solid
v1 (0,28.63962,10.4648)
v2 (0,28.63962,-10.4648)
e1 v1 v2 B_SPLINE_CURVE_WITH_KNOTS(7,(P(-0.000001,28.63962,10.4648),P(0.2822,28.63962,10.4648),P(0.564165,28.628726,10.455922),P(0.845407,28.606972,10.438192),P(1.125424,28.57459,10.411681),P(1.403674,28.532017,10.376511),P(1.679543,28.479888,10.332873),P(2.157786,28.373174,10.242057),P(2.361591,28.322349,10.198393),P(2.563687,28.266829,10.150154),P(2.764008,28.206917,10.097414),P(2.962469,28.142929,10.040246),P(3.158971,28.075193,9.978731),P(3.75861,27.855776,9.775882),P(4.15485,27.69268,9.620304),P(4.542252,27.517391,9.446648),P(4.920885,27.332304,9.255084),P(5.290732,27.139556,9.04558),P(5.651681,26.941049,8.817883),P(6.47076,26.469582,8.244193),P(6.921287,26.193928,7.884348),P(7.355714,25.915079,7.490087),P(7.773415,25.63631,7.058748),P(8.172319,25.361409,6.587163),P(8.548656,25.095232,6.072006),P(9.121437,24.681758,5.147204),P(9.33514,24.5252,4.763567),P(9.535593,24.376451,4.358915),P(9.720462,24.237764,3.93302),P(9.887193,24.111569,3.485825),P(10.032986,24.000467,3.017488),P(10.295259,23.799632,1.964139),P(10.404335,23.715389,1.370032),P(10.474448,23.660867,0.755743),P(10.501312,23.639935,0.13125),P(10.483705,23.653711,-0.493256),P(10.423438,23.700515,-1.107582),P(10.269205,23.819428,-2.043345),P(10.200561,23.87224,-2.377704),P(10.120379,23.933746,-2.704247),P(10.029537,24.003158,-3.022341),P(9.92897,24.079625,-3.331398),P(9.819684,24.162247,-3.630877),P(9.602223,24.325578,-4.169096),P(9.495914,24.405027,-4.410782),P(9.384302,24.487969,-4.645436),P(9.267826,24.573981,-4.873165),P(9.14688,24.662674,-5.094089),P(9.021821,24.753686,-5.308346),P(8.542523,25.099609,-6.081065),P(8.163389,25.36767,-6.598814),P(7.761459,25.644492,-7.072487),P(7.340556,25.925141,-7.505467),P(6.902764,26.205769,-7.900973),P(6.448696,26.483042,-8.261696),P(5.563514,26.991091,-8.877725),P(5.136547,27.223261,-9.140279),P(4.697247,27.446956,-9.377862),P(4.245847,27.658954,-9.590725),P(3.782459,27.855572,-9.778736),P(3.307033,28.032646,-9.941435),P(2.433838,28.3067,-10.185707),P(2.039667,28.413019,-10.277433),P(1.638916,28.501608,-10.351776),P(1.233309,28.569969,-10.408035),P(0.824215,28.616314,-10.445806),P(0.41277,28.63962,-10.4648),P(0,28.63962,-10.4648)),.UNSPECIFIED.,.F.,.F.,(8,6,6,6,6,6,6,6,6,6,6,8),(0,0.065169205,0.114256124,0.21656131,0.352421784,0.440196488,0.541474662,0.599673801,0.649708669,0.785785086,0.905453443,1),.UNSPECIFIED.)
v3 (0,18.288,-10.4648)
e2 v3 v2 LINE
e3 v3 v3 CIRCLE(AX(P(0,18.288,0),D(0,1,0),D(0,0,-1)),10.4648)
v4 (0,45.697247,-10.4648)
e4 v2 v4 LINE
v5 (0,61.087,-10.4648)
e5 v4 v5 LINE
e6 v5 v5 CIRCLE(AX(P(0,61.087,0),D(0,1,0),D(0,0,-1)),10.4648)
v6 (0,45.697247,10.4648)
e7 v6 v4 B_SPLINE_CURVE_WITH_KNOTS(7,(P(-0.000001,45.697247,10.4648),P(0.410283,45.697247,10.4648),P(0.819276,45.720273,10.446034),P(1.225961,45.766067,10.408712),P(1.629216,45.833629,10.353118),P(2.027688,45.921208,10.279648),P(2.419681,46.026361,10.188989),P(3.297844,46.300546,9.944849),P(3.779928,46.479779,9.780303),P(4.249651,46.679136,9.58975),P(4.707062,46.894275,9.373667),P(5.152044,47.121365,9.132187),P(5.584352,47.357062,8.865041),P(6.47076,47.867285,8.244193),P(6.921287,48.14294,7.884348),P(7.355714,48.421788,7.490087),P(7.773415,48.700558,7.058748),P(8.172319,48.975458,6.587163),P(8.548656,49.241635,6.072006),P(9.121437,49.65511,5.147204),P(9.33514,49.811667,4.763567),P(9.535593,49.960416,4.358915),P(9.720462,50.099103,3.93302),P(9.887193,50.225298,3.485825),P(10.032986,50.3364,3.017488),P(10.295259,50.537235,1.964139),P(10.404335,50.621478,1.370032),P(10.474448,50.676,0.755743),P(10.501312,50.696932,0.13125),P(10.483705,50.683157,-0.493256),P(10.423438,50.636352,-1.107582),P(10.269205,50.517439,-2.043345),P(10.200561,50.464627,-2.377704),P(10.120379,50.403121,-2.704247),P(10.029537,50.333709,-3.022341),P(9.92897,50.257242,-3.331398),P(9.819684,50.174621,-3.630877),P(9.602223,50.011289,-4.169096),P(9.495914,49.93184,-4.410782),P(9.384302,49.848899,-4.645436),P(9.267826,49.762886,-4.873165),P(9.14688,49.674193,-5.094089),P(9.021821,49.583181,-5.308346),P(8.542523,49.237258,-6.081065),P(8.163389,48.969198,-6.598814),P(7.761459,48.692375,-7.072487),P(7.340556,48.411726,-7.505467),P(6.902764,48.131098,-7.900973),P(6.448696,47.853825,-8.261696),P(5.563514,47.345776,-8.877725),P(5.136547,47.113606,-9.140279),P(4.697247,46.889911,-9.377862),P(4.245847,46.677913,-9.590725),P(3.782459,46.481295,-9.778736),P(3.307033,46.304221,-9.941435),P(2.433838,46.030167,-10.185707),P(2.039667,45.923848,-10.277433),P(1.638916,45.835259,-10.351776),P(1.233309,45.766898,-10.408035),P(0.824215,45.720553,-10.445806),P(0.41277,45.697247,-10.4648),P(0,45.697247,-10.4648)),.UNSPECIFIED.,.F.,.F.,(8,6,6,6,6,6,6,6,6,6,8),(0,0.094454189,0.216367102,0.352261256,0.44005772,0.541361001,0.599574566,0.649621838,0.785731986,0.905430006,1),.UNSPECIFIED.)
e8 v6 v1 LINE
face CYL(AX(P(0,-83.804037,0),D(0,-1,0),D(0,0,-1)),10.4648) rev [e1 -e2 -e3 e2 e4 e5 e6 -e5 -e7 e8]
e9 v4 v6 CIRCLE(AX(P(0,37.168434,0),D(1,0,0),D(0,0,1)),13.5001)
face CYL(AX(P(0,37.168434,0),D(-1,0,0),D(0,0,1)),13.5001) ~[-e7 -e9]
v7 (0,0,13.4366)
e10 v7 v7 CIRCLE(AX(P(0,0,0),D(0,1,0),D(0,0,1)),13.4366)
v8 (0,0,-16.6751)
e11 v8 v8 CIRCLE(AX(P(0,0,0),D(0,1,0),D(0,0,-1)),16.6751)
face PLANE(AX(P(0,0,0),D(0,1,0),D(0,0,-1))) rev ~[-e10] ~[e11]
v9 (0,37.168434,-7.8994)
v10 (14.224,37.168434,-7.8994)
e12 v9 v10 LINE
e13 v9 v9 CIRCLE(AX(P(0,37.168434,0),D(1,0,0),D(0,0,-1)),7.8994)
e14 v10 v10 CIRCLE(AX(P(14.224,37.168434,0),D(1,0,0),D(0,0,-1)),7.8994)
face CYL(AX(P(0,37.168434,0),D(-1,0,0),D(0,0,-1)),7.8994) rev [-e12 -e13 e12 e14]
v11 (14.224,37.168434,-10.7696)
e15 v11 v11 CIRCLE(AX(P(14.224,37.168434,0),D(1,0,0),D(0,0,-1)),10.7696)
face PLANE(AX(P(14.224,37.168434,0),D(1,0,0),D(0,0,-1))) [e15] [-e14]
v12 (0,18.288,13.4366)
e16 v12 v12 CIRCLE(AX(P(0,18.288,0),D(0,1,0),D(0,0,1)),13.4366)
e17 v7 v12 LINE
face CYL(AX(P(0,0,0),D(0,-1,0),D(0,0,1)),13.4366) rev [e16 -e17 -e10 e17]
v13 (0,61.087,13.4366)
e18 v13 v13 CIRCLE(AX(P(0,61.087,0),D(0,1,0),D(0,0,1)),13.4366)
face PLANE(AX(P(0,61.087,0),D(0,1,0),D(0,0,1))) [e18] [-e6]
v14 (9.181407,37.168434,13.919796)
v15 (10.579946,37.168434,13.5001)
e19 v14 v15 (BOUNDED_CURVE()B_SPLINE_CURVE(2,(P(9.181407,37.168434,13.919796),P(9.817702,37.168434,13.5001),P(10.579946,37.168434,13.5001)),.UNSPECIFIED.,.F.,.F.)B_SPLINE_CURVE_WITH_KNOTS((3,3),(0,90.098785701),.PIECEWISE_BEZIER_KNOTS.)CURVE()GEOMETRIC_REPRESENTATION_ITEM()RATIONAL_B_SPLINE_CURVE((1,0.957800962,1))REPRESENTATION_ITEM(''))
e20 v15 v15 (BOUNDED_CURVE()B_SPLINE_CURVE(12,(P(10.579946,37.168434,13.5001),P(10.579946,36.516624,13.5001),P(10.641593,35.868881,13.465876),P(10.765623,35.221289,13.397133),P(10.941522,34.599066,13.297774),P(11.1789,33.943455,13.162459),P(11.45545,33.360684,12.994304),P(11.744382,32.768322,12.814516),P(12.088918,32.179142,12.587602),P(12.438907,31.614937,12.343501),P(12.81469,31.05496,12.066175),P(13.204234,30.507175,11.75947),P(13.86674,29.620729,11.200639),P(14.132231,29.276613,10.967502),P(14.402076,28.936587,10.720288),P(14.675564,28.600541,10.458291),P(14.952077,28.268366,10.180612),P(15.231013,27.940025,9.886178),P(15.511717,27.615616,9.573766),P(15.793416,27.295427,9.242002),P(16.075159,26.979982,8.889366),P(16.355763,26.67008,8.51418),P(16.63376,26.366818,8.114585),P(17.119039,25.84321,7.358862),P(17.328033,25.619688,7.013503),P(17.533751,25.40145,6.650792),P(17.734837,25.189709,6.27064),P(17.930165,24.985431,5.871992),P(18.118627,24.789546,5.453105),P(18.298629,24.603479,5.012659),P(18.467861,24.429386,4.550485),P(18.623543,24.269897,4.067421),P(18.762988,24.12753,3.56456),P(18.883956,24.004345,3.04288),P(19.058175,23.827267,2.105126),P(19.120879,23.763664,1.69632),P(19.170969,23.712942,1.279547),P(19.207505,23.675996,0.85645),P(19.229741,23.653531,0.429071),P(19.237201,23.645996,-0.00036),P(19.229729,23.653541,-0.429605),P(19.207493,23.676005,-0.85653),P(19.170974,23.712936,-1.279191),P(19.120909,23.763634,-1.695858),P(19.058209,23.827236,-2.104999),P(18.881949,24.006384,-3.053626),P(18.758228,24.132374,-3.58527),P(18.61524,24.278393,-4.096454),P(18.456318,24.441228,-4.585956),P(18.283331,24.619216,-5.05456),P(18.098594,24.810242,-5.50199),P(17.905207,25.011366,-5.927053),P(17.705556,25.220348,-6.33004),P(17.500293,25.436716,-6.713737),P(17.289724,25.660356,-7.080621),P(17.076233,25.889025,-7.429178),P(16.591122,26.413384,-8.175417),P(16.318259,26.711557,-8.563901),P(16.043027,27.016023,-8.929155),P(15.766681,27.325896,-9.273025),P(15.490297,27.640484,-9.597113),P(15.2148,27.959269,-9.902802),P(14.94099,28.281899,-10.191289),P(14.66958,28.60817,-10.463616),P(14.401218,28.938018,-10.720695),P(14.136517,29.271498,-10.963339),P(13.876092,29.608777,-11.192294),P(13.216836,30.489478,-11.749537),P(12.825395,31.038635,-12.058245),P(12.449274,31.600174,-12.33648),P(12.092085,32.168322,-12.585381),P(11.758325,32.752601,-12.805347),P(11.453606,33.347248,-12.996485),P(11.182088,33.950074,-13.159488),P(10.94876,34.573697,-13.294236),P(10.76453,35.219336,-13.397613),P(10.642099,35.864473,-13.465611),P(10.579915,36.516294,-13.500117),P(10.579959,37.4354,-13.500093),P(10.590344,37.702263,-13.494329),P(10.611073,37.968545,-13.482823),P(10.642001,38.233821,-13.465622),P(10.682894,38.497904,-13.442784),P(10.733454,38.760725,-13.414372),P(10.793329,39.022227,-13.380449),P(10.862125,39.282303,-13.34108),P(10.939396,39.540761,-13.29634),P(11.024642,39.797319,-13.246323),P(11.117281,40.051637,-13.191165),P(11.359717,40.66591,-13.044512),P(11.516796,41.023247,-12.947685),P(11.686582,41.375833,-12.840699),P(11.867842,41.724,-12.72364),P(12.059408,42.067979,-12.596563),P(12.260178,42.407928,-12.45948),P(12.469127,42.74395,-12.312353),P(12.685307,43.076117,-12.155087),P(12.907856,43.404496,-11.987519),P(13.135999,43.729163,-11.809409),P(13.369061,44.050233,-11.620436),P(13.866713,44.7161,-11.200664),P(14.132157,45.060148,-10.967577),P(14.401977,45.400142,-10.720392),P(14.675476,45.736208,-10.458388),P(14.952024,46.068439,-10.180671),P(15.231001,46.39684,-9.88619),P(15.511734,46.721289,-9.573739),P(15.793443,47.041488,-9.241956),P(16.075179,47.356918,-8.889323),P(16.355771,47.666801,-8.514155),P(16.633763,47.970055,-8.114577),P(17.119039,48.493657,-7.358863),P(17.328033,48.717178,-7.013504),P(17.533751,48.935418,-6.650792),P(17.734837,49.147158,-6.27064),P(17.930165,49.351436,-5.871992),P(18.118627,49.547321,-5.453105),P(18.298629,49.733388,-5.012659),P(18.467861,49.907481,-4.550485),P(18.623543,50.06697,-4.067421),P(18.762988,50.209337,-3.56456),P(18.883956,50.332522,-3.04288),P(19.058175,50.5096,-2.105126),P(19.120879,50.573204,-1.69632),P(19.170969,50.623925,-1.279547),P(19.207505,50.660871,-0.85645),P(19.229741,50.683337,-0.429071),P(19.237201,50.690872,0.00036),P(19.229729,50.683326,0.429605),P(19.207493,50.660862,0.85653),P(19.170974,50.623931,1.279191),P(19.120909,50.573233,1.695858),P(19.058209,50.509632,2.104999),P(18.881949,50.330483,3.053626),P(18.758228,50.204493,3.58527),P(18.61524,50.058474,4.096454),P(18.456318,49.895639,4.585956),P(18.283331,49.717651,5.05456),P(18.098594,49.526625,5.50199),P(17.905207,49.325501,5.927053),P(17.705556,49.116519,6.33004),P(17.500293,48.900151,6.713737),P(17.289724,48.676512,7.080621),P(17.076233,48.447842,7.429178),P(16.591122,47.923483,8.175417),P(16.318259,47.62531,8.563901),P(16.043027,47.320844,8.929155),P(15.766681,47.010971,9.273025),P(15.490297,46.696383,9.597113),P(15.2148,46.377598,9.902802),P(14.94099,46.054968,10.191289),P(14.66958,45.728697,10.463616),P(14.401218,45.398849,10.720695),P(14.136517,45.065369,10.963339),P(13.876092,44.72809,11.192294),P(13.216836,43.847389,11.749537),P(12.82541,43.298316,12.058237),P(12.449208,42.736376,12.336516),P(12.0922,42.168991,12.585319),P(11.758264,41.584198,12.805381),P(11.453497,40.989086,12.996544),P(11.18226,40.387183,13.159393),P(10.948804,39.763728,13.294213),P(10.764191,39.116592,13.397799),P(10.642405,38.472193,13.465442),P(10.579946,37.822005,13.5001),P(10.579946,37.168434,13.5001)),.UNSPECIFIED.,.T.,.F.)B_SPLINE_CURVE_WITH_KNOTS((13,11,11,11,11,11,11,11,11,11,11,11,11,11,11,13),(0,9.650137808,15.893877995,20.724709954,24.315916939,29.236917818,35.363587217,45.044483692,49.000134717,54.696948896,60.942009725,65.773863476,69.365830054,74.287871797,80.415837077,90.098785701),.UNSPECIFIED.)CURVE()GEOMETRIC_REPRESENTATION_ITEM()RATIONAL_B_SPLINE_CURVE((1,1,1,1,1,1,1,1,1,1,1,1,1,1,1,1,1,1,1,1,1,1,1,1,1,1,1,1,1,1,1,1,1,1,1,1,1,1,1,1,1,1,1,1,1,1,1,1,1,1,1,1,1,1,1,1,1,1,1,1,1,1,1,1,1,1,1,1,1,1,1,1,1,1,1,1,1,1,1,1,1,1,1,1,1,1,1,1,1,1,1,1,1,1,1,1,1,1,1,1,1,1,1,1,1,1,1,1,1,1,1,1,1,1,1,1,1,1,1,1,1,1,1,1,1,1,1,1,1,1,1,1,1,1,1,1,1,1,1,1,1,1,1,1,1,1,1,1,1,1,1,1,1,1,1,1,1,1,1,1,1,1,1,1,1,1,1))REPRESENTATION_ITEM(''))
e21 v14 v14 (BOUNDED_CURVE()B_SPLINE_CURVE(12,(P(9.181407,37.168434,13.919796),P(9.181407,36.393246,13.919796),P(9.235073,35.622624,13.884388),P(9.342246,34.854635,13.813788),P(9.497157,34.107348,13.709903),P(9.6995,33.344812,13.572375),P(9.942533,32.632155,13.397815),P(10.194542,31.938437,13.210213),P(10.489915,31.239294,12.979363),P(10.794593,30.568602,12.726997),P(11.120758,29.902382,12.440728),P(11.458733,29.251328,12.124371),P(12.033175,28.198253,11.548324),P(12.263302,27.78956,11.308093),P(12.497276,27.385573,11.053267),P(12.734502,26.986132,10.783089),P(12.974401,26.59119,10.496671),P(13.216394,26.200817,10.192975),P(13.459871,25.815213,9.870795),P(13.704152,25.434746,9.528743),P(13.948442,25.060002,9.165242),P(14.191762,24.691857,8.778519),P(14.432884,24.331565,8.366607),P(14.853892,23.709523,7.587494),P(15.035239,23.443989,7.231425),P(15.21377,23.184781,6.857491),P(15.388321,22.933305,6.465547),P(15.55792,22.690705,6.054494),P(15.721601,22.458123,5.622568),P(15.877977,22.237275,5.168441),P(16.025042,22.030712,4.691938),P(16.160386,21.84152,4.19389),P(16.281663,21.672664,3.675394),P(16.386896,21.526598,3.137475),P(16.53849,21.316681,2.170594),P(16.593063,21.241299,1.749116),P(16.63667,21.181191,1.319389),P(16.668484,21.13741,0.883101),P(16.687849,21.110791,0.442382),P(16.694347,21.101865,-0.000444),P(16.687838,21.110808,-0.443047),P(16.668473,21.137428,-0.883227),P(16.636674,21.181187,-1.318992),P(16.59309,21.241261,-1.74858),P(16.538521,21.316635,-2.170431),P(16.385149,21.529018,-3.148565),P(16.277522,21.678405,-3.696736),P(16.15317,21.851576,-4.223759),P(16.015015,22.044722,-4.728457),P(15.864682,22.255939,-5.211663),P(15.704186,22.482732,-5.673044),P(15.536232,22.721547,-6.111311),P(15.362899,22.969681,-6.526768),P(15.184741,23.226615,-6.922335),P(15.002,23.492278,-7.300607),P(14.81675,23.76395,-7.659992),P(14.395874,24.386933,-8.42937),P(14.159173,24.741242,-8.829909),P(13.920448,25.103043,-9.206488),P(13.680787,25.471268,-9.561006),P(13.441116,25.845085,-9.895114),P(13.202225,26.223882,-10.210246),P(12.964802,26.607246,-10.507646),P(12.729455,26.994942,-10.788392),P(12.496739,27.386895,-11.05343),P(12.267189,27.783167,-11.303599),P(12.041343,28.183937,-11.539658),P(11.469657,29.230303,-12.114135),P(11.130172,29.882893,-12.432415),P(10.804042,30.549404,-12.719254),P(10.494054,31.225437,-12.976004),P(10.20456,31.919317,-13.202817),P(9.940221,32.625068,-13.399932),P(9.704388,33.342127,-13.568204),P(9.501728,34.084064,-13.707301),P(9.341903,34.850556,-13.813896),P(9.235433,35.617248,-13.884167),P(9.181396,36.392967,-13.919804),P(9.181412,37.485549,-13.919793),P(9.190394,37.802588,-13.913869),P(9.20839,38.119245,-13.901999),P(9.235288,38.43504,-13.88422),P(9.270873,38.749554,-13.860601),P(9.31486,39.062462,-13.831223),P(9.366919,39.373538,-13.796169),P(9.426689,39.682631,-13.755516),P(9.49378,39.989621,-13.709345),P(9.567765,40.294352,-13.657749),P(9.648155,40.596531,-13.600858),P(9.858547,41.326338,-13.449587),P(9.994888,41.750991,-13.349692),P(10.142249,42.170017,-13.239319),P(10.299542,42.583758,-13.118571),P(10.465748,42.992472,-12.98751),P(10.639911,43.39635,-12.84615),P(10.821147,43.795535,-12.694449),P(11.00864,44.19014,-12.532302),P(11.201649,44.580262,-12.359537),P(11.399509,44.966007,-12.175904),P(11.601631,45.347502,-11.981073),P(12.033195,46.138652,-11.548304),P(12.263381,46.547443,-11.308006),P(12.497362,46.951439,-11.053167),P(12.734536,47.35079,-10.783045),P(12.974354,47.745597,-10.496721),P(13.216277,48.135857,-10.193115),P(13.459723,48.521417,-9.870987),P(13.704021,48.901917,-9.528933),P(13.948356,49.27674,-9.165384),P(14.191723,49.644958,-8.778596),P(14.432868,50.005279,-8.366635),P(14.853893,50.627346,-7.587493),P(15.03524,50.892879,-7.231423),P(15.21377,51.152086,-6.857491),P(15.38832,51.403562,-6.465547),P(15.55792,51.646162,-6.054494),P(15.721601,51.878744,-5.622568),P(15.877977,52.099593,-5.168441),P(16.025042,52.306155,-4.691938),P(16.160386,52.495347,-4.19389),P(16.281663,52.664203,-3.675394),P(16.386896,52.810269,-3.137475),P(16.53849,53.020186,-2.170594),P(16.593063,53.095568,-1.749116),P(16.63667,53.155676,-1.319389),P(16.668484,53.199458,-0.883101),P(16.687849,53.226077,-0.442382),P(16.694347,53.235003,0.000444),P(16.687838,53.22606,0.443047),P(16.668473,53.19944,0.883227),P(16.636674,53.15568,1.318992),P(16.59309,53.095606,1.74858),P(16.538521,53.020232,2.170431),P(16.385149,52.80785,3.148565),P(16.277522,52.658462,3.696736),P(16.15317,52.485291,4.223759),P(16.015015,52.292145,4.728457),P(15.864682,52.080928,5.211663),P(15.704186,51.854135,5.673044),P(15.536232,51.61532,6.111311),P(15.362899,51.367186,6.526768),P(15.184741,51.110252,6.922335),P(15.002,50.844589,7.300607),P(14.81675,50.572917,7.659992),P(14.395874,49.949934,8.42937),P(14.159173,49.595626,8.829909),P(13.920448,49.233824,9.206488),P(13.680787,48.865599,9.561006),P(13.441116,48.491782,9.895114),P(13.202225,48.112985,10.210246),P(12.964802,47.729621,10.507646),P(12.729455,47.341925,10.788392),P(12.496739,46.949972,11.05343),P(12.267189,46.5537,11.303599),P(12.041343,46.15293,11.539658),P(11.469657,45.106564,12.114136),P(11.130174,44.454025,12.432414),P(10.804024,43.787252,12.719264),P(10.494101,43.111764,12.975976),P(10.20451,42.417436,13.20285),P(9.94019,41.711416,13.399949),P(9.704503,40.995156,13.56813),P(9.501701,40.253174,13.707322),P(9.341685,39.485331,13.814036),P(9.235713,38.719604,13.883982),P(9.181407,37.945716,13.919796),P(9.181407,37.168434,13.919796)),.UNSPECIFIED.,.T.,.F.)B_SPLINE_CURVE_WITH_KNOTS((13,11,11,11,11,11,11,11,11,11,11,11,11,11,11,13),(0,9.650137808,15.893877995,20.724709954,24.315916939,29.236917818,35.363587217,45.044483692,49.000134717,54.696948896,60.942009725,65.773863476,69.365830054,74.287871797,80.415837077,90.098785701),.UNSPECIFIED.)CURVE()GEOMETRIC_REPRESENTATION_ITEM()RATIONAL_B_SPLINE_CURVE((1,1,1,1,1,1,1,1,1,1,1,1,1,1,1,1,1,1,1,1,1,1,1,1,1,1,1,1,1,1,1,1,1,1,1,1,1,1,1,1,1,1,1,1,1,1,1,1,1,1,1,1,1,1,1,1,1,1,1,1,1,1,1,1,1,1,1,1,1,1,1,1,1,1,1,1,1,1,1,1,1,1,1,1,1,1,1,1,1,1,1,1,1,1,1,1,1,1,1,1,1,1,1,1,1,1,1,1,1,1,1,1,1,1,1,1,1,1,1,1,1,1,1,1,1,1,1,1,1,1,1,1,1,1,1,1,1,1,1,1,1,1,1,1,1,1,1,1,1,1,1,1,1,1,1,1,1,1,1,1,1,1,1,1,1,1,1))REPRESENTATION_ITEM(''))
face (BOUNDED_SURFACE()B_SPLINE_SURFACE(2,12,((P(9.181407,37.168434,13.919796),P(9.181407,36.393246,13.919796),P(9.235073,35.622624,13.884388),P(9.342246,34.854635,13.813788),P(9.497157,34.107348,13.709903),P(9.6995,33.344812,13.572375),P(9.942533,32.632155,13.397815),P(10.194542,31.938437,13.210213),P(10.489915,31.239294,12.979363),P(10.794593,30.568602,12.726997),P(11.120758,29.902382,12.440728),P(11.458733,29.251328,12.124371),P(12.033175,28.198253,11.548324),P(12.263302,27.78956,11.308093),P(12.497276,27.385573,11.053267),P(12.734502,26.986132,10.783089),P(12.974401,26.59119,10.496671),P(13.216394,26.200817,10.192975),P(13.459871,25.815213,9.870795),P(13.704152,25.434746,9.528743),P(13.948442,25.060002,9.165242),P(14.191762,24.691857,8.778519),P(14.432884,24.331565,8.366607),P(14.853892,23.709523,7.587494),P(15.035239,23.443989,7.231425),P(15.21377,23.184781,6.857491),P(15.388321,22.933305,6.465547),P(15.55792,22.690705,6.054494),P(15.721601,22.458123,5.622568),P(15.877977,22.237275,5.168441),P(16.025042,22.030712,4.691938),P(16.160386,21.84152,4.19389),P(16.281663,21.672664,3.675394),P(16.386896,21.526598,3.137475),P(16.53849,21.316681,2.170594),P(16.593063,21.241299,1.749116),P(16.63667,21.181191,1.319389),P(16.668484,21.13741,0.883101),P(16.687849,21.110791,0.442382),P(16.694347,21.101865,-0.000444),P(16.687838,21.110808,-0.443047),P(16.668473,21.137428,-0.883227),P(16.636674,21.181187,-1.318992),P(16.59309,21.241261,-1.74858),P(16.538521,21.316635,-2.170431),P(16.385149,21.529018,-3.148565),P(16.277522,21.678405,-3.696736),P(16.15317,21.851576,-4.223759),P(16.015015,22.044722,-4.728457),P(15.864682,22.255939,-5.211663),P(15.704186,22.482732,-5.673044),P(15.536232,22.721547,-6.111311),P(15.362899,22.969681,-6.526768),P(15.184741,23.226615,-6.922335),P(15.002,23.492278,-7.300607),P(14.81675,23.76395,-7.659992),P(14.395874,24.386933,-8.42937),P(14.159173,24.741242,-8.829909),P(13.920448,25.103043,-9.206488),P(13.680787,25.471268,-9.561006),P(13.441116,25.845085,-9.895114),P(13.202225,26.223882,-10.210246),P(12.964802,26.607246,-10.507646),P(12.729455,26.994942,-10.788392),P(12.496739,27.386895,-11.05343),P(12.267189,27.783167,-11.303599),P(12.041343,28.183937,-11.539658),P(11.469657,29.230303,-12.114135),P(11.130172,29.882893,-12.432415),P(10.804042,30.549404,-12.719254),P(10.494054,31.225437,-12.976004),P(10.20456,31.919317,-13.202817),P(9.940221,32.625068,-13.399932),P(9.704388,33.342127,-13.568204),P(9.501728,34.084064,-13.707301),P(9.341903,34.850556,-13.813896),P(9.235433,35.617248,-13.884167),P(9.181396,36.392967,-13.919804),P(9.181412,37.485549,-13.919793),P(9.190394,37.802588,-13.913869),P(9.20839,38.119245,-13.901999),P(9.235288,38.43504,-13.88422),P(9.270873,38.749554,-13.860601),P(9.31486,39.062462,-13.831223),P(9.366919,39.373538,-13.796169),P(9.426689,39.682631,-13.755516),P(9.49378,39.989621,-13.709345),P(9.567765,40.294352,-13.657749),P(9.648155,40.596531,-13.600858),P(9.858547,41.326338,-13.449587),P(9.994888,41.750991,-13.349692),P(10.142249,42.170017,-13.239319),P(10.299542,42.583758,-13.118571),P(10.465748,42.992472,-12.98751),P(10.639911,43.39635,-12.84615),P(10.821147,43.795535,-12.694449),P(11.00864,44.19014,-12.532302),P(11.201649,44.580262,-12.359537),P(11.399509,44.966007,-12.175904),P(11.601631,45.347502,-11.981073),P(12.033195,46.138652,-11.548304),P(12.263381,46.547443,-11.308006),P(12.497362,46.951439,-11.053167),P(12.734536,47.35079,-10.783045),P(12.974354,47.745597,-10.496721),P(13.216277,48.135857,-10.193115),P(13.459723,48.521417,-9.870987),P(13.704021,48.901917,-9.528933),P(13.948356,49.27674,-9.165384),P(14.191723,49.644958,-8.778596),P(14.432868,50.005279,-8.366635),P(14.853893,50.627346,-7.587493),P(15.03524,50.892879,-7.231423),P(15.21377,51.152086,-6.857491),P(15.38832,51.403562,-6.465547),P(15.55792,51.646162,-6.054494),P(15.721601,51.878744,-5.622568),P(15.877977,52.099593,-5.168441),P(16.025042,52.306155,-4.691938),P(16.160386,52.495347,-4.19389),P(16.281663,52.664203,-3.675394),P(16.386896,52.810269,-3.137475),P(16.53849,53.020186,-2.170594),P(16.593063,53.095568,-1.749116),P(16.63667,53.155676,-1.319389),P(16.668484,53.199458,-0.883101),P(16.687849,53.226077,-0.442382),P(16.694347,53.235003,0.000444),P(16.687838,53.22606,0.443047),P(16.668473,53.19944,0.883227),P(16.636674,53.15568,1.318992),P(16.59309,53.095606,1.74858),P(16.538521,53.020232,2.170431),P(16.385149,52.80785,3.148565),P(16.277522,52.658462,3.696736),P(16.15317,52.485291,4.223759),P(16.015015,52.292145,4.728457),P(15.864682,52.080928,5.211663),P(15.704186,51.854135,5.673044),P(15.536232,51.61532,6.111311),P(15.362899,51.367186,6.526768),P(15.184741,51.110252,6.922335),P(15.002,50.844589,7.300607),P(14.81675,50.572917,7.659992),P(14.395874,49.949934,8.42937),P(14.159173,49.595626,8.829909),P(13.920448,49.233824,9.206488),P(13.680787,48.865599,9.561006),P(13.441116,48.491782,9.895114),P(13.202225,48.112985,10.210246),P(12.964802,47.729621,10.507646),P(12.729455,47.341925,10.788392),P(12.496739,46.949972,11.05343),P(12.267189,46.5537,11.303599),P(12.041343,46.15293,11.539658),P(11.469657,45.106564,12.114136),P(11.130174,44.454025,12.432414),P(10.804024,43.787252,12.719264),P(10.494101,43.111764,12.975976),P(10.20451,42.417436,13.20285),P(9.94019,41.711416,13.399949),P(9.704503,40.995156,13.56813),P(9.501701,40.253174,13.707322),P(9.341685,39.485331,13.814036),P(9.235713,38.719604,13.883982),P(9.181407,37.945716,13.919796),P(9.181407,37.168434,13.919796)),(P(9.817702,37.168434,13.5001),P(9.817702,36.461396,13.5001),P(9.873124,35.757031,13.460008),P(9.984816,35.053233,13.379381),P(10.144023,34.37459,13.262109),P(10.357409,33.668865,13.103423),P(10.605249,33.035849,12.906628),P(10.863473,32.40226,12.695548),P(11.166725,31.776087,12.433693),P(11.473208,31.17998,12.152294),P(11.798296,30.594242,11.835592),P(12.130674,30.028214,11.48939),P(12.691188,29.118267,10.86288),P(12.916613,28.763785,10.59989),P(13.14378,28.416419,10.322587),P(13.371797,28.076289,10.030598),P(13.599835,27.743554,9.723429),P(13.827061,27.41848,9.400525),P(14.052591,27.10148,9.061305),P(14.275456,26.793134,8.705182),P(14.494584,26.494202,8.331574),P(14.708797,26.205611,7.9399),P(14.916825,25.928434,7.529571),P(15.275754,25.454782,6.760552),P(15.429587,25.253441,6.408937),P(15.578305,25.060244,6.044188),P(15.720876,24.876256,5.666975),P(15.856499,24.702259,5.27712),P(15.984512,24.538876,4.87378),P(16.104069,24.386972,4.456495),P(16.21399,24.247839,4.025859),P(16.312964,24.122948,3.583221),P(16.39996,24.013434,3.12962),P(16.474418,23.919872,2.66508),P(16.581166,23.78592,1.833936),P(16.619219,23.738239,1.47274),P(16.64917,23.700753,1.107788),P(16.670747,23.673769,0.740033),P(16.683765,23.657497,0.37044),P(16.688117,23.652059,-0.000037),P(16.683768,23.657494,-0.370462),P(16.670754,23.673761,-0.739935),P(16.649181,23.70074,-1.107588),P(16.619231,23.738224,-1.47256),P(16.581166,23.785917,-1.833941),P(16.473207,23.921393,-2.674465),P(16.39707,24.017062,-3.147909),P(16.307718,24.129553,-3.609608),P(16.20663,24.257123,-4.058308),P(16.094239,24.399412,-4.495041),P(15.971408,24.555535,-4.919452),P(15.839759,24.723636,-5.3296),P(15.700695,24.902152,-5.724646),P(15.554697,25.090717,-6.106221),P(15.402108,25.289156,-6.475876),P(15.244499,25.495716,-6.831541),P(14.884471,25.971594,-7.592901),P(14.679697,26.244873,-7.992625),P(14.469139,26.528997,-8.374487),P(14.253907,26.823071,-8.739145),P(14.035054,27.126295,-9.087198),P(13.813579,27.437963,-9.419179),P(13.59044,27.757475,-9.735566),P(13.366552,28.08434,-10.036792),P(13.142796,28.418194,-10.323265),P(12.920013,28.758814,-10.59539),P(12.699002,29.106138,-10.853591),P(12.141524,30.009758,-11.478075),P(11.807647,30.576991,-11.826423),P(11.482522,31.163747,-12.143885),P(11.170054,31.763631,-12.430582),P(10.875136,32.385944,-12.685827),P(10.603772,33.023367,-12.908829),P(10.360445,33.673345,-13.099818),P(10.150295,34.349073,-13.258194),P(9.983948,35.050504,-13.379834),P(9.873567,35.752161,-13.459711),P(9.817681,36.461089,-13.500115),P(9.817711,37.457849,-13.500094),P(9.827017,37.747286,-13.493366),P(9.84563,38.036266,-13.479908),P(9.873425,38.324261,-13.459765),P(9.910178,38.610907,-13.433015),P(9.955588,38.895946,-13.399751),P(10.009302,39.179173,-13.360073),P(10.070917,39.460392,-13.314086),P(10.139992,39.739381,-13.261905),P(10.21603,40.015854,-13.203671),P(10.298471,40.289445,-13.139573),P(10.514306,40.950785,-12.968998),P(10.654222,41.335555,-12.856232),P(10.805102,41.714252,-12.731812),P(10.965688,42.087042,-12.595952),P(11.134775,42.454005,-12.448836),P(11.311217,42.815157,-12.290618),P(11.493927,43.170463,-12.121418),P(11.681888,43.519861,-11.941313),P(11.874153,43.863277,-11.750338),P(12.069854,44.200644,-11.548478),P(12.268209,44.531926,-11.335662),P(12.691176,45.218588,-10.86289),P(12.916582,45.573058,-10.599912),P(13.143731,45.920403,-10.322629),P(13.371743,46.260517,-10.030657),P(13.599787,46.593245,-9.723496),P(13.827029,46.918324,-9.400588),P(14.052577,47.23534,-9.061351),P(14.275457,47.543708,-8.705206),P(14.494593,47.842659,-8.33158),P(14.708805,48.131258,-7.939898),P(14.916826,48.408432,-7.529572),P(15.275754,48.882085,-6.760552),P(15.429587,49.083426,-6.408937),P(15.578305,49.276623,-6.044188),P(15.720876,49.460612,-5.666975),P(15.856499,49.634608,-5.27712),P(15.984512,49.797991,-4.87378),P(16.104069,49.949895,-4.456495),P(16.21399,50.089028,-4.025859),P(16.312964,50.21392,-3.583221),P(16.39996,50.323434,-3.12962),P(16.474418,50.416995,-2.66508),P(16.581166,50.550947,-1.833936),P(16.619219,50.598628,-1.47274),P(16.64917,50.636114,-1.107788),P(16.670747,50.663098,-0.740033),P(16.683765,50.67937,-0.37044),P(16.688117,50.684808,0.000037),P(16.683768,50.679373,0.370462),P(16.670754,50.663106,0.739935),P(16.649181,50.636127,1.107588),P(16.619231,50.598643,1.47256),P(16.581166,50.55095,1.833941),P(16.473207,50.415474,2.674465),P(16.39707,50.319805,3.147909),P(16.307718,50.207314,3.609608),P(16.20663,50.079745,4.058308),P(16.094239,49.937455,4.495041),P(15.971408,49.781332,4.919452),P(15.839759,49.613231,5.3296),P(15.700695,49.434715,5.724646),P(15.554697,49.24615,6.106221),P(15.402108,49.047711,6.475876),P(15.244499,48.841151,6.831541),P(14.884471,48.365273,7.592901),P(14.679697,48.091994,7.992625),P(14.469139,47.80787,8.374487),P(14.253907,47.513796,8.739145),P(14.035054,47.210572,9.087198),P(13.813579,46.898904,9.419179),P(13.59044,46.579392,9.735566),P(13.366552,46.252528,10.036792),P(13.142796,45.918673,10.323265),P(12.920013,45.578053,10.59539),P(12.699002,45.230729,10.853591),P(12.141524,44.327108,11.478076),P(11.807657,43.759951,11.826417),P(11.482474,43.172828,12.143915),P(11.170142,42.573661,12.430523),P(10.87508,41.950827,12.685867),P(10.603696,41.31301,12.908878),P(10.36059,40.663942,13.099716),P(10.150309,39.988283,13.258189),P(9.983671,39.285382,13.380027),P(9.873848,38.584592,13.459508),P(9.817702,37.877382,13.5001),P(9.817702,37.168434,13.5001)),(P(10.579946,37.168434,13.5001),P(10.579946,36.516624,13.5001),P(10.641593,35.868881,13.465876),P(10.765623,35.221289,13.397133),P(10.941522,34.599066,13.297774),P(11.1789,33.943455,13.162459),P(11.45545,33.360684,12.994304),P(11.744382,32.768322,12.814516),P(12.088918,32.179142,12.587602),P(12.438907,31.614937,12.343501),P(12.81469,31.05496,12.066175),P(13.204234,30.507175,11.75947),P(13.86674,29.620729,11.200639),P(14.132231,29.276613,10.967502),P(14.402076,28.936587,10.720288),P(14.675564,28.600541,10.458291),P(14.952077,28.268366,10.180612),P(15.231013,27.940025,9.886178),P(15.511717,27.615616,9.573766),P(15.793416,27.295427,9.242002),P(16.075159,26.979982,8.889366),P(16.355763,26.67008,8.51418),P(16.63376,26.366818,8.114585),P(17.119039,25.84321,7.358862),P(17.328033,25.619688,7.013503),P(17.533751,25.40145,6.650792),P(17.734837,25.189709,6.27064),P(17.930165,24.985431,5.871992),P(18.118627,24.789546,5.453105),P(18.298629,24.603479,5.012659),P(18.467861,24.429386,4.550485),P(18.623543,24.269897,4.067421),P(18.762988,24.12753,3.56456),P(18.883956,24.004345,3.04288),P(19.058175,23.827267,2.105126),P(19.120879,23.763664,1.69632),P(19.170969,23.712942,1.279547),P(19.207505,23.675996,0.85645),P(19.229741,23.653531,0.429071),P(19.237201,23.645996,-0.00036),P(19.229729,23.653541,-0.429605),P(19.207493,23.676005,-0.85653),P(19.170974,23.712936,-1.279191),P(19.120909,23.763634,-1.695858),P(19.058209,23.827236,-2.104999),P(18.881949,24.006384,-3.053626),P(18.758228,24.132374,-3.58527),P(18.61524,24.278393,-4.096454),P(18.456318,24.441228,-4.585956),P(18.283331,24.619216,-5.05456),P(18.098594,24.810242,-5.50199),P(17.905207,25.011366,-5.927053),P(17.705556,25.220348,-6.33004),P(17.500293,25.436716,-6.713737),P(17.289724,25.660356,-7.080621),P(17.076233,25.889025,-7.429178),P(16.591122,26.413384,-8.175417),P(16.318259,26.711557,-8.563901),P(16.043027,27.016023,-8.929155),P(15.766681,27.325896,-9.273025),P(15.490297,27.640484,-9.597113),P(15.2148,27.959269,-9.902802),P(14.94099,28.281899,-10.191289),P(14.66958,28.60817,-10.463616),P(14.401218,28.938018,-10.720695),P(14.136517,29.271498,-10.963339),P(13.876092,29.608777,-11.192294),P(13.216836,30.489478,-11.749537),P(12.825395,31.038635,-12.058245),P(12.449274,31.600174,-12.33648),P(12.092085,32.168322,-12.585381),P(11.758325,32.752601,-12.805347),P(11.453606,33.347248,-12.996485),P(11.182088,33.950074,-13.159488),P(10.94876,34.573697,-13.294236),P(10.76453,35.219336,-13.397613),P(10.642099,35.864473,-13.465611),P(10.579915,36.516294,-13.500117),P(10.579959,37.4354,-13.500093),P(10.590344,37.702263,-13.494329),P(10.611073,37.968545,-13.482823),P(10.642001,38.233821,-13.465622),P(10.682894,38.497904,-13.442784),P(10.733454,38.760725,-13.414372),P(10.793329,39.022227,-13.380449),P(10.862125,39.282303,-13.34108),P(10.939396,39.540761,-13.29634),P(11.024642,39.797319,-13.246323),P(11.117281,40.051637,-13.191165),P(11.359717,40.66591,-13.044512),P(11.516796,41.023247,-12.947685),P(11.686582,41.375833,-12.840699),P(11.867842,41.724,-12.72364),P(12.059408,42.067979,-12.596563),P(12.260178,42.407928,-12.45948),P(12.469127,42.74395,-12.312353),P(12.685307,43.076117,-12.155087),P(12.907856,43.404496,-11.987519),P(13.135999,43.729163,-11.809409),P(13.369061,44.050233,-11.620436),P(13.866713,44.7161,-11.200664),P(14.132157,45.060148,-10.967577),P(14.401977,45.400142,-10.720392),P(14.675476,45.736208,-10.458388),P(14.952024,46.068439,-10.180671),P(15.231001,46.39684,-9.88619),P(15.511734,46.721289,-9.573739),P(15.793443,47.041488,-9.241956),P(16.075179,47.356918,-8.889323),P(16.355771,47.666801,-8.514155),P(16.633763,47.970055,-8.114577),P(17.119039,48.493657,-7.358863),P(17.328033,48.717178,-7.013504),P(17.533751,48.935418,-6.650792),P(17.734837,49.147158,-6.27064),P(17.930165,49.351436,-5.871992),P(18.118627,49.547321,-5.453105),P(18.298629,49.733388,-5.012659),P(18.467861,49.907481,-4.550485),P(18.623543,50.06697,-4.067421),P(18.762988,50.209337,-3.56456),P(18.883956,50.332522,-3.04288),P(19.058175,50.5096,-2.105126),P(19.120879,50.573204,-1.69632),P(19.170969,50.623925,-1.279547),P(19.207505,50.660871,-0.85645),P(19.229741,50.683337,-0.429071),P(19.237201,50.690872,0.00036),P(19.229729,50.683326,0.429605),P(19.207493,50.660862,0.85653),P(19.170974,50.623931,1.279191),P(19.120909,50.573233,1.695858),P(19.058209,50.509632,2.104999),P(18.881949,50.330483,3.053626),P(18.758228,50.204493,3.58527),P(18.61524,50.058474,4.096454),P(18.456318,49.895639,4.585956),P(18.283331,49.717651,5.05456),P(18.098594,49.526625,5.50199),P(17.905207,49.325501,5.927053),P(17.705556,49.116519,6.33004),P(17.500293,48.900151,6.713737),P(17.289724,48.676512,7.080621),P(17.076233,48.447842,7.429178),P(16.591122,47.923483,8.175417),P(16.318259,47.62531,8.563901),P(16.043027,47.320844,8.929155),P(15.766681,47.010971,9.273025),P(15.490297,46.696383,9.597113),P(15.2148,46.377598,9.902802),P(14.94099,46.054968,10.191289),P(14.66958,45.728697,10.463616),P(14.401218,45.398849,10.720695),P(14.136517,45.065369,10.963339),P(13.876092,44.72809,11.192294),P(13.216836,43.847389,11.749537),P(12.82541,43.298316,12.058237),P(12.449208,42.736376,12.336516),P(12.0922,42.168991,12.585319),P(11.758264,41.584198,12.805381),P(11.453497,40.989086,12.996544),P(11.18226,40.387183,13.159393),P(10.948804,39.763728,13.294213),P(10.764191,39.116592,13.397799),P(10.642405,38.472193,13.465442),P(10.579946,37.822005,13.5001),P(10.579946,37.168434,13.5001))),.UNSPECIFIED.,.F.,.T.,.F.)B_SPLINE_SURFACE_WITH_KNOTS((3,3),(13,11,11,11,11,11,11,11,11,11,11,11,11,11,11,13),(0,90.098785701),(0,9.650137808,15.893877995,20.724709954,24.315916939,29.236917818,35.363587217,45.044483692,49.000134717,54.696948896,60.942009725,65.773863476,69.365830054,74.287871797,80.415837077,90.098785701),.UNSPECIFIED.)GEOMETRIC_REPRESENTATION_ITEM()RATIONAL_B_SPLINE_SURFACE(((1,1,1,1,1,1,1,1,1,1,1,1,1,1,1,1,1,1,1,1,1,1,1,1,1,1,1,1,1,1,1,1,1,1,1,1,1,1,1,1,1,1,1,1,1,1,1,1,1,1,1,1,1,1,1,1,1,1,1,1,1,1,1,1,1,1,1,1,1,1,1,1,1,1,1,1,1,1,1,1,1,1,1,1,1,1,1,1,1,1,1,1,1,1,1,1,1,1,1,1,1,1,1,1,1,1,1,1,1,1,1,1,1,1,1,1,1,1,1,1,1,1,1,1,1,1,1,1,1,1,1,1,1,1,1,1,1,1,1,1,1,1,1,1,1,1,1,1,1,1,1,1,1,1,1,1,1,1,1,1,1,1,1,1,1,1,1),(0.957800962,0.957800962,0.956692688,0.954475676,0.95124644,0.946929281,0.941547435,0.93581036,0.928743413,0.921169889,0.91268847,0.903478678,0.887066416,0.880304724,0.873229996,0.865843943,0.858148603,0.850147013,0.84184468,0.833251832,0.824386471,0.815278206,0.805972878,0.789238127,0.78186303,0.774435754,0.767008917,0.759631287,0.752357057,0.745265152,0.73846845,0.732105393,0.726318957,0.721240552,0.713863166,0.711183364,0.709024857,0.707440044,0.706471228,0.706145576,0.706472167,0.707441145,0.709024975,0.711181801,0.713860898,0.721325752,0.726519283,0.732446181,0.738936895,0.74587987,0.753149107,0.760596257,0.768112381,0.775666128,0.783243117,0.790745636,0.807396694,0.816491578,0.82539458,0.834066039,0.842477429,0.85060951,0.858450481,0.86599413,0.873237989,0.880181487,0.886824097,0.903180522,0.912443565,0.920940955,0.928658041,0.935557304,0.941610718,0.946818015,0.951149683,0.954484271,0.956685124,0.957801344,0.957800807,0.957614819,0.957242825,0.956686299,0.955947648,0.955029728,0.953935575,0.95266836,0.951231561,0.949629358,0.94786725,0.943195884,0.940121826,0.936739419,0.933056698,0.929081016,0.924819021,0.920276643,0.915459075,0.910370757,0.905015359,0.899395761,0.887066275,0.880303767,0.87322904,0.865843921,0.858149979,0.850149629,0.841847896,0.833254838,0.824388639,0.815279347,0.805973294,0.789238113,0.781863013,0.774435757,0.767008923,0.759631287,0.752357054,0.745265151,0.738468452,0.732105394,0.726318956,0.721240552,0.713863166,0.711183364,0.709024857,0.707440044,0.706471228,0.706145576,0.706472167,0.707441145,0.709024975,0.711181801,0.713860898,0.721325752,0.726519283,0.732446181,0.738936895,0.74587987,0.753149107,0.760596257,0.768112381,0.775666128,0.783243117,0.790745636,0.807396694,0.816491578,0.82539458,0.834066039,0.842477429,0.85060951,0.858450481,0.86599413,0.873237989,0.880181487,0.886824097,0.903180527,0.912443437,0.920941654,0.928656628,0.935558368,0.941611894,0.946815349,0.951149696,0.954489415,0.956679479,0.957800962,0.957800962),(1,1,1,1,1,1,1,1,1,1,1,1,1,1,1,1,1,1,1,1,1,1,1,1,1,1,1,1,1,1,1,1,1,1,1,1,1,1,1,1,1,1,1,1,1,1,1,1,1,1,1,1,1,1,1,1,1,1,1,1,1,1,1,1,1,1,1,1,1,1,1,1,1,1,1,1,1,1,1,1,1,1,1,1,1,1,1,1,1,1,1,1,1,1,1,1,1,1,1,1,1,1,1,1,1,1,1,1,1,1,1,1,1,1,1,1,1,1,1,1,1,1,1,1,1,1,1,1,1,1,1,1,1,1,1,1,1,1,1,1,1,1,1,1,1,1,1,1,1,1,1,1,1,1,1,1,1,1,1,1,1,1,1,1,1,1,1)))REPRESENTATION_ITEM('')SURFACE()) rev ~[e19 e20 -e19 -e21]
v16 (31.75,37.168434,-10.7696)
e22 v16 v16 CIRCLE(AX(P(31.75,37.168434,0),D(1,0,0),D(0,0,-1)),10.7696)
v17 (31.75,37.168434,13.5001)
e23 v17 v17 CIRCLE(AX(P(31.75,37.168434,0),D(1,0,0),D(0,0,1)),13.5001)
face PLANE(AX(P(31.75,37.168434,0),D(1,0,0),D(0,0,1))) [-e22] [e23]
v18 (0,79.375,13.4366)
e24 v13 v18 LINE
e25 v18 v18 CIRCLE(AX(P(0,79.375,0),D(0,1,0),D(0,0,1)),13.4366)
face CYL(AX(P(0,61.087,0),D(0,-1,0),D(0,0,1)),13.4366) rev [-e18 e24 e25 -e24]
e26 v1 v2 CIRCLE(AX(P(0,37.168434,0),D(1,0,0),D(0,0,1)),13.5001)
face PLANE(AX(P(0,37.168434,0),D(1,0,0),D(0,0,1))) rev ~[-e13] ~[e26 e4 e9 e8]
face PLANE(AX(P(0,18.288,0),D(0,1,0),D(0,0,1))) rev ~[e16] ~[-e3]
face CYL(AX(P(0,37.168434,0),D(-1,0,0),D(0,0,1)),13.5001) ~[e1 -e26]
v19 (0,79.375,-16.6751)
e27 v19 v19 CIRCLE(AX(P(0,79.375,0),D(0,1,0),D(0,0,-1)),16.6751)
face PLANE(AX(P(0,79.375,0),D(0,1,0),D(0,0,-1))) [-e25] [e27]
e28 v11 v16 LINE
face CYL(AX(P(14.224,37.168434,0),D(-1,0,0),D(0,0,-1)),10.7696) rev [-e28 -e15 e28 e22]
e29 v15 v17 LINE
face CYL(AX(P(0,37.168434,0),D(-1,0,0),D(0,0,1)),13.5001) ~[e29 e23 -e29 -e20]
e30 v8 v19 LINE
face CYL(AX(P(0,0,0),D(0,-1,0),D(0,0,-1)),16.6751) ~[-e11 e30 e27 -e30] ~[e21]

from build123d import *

# Parameters (mm, degrees)
SKETCH1_R               = 16.6751
BOSS_EXTRUDE1_DEPTH     = 79.375
CUT_EXTRUDE1_DEPTH      = 83.804037009
CUT_EXTRUDE1_DEPTH_BACK = 83.804037009
SKETCH1_4_R             = 10.4648
SKETCH1_5_R             = 13.4366
SKETCH1_5_R_2           = 10.4648
CUT_EXTRUDE2_DEPTH      = 18.288
CUT_EXTRUDE3_START      = -18.288
SKETCH2_R               = 13.4366
SKETCH2_R_2             = 10.4648
CUT_EXTRUDE3_DEPTH      = 18.288
SKETCH3_R               = 13.5001
BOSS_EXTRUDE2_DEPTH     = 31.75
SKETCH3_7_R             = 7.8994
CUT_EXTRUDE5_DEPTH      = 33.3502
CUT_EXTRUDE6_START      = -17.526
SKETCH4_R               = 10.7696
SKETCH4_R_2             = 7.8994
CUT_EXTRUDE6_DEPTH      = 17.526
FILLET1_R               = 2.54


with BuildPart() as part:
    # Sketch1 → Boss-Extrude1 (new body)
    with BuildSketch(Plane(origin=(0, 0, 0), x_dir=(1, 0, 0), z_dir=(0, 1, 0))):
        with Locations(Location((0, 0, 0), (0, 0, 90))):
            Circle(SKETCH1_R)
    extrude(amount=BOSS_EXTRUDE1_DEPTH)

    # Sketch1<4> → Cut-Extrude1 (cut, two sides: drawn at the far end of the back side and taken through both)
    with BuildSketch(Plane(origin=(0, 0, 0), x_dir=(1, 0, 0), z_dir=(0, 1, 0)).offset(-CUT_EXTRUDE1_DEPTH_BACK)):
        with Locations(Location((0, 0, 0), (0, 0, 90))):
            Circle(SKETCH1_4_R)
    extrude(amount=CUT_EXTRUDE1_DEPTH + CUT_EXTRUDE1_DEPTH_BACK, mode=Mode.SUBTRACT)

    # Sketch1<5> → Cut-Extrude2 (cut)
    with BuildSketch(Plane(origin=(0, 0, 0), x_dir=(1, 0, 0), z_dir=(0, 1, 0))):
        with Locations(Location((0, 0, 0), (0, 0, 270))):
            Circle(SKETCH1_5_R)
        with Locations(Location((0, 0, 0), (0, 0, 90))):
            Circle(SKETCH1_5_R_2, mode=Mode.SUBTRACT)
    extrude(amount=CUT_EXTRUDE2_DEPTH, mode=Mode.SUBTRACT)

    # Sketch2 → Cut-Extrude3 (cut)
    with BuildSketch(Plane(origin=(0, 79.375, 0), x_dir=(1, 0, 0), z_dir=(0, 1, 0)).offset(CUT_EXTRUDE3_START)):
        with Locations(Location((0, 0, 0), (0, 0, 270))):
            Circle(SKETCH2_R)
        with Locations(Location((0, 0, 0), (0, 0, 90))):
            Circle(SKETCH2_R_2, mode=Mode.SUBTRACT)
    extrude(amount=CUT_EXTRUDE3_DEPTH, mode=Mode.SUBTRACT)

    # Sketch3 → Boss-Extrude2 (add)
    with BuildSketch(Plane(origin=(0, 0, 0), x_dir=(0, 0, -1), z_dir=(1, 0, 0))):
        with Locations(Location((0, 37.168433559, 0), (0, 0, 180))):
            Circle(SKETCH3_R)
    extrude(amount=BOSS_EXTRUDE2_DEPTH)

    # Sketch3<7> → Cut-Extrude5 (cut)
    with BuildSketch(Plane(origin=(0, 0, 0), x_dir=(0, 0, -1), z_dir=(1, 0, 0))):
        with Locations((0, 37.168433559)):
            Circle(SKETCH3_7_R)
    extrude(amount=CUT_EXTRUDE5_DEPTH, mode=Mode.SUBTRACT)

    # Sketch4 → Cut-Extrude6 (cut)
    with BuildSketch(Plane(origin=(31.75, 0, 0), x_dir=(0, 0, -1), z_dir=(1, 0, 0)).offset(CUT_EXTRUDE6_START)):
        with Locations((0, 37.168433559)):
            Circle(SKETCH4_R)
        with Locations((0, 37.168433559)):
            Circle(SKETCH4_R_2, mode=Mode.SUBTRACT)
    extrude(amount=CUT_EXTRUDE6_DEPTH, mode=Mode.SUBTRACT)

    # Fillet1
    fillet1_edges = [part.edges().sort_by_distance(p)[0] for p in [
        (9.788067225, 37.168433559, -13.5001),
    ]]
    fillet(fillet1_edges, radius=FILLET1_R)


solid = part.part
